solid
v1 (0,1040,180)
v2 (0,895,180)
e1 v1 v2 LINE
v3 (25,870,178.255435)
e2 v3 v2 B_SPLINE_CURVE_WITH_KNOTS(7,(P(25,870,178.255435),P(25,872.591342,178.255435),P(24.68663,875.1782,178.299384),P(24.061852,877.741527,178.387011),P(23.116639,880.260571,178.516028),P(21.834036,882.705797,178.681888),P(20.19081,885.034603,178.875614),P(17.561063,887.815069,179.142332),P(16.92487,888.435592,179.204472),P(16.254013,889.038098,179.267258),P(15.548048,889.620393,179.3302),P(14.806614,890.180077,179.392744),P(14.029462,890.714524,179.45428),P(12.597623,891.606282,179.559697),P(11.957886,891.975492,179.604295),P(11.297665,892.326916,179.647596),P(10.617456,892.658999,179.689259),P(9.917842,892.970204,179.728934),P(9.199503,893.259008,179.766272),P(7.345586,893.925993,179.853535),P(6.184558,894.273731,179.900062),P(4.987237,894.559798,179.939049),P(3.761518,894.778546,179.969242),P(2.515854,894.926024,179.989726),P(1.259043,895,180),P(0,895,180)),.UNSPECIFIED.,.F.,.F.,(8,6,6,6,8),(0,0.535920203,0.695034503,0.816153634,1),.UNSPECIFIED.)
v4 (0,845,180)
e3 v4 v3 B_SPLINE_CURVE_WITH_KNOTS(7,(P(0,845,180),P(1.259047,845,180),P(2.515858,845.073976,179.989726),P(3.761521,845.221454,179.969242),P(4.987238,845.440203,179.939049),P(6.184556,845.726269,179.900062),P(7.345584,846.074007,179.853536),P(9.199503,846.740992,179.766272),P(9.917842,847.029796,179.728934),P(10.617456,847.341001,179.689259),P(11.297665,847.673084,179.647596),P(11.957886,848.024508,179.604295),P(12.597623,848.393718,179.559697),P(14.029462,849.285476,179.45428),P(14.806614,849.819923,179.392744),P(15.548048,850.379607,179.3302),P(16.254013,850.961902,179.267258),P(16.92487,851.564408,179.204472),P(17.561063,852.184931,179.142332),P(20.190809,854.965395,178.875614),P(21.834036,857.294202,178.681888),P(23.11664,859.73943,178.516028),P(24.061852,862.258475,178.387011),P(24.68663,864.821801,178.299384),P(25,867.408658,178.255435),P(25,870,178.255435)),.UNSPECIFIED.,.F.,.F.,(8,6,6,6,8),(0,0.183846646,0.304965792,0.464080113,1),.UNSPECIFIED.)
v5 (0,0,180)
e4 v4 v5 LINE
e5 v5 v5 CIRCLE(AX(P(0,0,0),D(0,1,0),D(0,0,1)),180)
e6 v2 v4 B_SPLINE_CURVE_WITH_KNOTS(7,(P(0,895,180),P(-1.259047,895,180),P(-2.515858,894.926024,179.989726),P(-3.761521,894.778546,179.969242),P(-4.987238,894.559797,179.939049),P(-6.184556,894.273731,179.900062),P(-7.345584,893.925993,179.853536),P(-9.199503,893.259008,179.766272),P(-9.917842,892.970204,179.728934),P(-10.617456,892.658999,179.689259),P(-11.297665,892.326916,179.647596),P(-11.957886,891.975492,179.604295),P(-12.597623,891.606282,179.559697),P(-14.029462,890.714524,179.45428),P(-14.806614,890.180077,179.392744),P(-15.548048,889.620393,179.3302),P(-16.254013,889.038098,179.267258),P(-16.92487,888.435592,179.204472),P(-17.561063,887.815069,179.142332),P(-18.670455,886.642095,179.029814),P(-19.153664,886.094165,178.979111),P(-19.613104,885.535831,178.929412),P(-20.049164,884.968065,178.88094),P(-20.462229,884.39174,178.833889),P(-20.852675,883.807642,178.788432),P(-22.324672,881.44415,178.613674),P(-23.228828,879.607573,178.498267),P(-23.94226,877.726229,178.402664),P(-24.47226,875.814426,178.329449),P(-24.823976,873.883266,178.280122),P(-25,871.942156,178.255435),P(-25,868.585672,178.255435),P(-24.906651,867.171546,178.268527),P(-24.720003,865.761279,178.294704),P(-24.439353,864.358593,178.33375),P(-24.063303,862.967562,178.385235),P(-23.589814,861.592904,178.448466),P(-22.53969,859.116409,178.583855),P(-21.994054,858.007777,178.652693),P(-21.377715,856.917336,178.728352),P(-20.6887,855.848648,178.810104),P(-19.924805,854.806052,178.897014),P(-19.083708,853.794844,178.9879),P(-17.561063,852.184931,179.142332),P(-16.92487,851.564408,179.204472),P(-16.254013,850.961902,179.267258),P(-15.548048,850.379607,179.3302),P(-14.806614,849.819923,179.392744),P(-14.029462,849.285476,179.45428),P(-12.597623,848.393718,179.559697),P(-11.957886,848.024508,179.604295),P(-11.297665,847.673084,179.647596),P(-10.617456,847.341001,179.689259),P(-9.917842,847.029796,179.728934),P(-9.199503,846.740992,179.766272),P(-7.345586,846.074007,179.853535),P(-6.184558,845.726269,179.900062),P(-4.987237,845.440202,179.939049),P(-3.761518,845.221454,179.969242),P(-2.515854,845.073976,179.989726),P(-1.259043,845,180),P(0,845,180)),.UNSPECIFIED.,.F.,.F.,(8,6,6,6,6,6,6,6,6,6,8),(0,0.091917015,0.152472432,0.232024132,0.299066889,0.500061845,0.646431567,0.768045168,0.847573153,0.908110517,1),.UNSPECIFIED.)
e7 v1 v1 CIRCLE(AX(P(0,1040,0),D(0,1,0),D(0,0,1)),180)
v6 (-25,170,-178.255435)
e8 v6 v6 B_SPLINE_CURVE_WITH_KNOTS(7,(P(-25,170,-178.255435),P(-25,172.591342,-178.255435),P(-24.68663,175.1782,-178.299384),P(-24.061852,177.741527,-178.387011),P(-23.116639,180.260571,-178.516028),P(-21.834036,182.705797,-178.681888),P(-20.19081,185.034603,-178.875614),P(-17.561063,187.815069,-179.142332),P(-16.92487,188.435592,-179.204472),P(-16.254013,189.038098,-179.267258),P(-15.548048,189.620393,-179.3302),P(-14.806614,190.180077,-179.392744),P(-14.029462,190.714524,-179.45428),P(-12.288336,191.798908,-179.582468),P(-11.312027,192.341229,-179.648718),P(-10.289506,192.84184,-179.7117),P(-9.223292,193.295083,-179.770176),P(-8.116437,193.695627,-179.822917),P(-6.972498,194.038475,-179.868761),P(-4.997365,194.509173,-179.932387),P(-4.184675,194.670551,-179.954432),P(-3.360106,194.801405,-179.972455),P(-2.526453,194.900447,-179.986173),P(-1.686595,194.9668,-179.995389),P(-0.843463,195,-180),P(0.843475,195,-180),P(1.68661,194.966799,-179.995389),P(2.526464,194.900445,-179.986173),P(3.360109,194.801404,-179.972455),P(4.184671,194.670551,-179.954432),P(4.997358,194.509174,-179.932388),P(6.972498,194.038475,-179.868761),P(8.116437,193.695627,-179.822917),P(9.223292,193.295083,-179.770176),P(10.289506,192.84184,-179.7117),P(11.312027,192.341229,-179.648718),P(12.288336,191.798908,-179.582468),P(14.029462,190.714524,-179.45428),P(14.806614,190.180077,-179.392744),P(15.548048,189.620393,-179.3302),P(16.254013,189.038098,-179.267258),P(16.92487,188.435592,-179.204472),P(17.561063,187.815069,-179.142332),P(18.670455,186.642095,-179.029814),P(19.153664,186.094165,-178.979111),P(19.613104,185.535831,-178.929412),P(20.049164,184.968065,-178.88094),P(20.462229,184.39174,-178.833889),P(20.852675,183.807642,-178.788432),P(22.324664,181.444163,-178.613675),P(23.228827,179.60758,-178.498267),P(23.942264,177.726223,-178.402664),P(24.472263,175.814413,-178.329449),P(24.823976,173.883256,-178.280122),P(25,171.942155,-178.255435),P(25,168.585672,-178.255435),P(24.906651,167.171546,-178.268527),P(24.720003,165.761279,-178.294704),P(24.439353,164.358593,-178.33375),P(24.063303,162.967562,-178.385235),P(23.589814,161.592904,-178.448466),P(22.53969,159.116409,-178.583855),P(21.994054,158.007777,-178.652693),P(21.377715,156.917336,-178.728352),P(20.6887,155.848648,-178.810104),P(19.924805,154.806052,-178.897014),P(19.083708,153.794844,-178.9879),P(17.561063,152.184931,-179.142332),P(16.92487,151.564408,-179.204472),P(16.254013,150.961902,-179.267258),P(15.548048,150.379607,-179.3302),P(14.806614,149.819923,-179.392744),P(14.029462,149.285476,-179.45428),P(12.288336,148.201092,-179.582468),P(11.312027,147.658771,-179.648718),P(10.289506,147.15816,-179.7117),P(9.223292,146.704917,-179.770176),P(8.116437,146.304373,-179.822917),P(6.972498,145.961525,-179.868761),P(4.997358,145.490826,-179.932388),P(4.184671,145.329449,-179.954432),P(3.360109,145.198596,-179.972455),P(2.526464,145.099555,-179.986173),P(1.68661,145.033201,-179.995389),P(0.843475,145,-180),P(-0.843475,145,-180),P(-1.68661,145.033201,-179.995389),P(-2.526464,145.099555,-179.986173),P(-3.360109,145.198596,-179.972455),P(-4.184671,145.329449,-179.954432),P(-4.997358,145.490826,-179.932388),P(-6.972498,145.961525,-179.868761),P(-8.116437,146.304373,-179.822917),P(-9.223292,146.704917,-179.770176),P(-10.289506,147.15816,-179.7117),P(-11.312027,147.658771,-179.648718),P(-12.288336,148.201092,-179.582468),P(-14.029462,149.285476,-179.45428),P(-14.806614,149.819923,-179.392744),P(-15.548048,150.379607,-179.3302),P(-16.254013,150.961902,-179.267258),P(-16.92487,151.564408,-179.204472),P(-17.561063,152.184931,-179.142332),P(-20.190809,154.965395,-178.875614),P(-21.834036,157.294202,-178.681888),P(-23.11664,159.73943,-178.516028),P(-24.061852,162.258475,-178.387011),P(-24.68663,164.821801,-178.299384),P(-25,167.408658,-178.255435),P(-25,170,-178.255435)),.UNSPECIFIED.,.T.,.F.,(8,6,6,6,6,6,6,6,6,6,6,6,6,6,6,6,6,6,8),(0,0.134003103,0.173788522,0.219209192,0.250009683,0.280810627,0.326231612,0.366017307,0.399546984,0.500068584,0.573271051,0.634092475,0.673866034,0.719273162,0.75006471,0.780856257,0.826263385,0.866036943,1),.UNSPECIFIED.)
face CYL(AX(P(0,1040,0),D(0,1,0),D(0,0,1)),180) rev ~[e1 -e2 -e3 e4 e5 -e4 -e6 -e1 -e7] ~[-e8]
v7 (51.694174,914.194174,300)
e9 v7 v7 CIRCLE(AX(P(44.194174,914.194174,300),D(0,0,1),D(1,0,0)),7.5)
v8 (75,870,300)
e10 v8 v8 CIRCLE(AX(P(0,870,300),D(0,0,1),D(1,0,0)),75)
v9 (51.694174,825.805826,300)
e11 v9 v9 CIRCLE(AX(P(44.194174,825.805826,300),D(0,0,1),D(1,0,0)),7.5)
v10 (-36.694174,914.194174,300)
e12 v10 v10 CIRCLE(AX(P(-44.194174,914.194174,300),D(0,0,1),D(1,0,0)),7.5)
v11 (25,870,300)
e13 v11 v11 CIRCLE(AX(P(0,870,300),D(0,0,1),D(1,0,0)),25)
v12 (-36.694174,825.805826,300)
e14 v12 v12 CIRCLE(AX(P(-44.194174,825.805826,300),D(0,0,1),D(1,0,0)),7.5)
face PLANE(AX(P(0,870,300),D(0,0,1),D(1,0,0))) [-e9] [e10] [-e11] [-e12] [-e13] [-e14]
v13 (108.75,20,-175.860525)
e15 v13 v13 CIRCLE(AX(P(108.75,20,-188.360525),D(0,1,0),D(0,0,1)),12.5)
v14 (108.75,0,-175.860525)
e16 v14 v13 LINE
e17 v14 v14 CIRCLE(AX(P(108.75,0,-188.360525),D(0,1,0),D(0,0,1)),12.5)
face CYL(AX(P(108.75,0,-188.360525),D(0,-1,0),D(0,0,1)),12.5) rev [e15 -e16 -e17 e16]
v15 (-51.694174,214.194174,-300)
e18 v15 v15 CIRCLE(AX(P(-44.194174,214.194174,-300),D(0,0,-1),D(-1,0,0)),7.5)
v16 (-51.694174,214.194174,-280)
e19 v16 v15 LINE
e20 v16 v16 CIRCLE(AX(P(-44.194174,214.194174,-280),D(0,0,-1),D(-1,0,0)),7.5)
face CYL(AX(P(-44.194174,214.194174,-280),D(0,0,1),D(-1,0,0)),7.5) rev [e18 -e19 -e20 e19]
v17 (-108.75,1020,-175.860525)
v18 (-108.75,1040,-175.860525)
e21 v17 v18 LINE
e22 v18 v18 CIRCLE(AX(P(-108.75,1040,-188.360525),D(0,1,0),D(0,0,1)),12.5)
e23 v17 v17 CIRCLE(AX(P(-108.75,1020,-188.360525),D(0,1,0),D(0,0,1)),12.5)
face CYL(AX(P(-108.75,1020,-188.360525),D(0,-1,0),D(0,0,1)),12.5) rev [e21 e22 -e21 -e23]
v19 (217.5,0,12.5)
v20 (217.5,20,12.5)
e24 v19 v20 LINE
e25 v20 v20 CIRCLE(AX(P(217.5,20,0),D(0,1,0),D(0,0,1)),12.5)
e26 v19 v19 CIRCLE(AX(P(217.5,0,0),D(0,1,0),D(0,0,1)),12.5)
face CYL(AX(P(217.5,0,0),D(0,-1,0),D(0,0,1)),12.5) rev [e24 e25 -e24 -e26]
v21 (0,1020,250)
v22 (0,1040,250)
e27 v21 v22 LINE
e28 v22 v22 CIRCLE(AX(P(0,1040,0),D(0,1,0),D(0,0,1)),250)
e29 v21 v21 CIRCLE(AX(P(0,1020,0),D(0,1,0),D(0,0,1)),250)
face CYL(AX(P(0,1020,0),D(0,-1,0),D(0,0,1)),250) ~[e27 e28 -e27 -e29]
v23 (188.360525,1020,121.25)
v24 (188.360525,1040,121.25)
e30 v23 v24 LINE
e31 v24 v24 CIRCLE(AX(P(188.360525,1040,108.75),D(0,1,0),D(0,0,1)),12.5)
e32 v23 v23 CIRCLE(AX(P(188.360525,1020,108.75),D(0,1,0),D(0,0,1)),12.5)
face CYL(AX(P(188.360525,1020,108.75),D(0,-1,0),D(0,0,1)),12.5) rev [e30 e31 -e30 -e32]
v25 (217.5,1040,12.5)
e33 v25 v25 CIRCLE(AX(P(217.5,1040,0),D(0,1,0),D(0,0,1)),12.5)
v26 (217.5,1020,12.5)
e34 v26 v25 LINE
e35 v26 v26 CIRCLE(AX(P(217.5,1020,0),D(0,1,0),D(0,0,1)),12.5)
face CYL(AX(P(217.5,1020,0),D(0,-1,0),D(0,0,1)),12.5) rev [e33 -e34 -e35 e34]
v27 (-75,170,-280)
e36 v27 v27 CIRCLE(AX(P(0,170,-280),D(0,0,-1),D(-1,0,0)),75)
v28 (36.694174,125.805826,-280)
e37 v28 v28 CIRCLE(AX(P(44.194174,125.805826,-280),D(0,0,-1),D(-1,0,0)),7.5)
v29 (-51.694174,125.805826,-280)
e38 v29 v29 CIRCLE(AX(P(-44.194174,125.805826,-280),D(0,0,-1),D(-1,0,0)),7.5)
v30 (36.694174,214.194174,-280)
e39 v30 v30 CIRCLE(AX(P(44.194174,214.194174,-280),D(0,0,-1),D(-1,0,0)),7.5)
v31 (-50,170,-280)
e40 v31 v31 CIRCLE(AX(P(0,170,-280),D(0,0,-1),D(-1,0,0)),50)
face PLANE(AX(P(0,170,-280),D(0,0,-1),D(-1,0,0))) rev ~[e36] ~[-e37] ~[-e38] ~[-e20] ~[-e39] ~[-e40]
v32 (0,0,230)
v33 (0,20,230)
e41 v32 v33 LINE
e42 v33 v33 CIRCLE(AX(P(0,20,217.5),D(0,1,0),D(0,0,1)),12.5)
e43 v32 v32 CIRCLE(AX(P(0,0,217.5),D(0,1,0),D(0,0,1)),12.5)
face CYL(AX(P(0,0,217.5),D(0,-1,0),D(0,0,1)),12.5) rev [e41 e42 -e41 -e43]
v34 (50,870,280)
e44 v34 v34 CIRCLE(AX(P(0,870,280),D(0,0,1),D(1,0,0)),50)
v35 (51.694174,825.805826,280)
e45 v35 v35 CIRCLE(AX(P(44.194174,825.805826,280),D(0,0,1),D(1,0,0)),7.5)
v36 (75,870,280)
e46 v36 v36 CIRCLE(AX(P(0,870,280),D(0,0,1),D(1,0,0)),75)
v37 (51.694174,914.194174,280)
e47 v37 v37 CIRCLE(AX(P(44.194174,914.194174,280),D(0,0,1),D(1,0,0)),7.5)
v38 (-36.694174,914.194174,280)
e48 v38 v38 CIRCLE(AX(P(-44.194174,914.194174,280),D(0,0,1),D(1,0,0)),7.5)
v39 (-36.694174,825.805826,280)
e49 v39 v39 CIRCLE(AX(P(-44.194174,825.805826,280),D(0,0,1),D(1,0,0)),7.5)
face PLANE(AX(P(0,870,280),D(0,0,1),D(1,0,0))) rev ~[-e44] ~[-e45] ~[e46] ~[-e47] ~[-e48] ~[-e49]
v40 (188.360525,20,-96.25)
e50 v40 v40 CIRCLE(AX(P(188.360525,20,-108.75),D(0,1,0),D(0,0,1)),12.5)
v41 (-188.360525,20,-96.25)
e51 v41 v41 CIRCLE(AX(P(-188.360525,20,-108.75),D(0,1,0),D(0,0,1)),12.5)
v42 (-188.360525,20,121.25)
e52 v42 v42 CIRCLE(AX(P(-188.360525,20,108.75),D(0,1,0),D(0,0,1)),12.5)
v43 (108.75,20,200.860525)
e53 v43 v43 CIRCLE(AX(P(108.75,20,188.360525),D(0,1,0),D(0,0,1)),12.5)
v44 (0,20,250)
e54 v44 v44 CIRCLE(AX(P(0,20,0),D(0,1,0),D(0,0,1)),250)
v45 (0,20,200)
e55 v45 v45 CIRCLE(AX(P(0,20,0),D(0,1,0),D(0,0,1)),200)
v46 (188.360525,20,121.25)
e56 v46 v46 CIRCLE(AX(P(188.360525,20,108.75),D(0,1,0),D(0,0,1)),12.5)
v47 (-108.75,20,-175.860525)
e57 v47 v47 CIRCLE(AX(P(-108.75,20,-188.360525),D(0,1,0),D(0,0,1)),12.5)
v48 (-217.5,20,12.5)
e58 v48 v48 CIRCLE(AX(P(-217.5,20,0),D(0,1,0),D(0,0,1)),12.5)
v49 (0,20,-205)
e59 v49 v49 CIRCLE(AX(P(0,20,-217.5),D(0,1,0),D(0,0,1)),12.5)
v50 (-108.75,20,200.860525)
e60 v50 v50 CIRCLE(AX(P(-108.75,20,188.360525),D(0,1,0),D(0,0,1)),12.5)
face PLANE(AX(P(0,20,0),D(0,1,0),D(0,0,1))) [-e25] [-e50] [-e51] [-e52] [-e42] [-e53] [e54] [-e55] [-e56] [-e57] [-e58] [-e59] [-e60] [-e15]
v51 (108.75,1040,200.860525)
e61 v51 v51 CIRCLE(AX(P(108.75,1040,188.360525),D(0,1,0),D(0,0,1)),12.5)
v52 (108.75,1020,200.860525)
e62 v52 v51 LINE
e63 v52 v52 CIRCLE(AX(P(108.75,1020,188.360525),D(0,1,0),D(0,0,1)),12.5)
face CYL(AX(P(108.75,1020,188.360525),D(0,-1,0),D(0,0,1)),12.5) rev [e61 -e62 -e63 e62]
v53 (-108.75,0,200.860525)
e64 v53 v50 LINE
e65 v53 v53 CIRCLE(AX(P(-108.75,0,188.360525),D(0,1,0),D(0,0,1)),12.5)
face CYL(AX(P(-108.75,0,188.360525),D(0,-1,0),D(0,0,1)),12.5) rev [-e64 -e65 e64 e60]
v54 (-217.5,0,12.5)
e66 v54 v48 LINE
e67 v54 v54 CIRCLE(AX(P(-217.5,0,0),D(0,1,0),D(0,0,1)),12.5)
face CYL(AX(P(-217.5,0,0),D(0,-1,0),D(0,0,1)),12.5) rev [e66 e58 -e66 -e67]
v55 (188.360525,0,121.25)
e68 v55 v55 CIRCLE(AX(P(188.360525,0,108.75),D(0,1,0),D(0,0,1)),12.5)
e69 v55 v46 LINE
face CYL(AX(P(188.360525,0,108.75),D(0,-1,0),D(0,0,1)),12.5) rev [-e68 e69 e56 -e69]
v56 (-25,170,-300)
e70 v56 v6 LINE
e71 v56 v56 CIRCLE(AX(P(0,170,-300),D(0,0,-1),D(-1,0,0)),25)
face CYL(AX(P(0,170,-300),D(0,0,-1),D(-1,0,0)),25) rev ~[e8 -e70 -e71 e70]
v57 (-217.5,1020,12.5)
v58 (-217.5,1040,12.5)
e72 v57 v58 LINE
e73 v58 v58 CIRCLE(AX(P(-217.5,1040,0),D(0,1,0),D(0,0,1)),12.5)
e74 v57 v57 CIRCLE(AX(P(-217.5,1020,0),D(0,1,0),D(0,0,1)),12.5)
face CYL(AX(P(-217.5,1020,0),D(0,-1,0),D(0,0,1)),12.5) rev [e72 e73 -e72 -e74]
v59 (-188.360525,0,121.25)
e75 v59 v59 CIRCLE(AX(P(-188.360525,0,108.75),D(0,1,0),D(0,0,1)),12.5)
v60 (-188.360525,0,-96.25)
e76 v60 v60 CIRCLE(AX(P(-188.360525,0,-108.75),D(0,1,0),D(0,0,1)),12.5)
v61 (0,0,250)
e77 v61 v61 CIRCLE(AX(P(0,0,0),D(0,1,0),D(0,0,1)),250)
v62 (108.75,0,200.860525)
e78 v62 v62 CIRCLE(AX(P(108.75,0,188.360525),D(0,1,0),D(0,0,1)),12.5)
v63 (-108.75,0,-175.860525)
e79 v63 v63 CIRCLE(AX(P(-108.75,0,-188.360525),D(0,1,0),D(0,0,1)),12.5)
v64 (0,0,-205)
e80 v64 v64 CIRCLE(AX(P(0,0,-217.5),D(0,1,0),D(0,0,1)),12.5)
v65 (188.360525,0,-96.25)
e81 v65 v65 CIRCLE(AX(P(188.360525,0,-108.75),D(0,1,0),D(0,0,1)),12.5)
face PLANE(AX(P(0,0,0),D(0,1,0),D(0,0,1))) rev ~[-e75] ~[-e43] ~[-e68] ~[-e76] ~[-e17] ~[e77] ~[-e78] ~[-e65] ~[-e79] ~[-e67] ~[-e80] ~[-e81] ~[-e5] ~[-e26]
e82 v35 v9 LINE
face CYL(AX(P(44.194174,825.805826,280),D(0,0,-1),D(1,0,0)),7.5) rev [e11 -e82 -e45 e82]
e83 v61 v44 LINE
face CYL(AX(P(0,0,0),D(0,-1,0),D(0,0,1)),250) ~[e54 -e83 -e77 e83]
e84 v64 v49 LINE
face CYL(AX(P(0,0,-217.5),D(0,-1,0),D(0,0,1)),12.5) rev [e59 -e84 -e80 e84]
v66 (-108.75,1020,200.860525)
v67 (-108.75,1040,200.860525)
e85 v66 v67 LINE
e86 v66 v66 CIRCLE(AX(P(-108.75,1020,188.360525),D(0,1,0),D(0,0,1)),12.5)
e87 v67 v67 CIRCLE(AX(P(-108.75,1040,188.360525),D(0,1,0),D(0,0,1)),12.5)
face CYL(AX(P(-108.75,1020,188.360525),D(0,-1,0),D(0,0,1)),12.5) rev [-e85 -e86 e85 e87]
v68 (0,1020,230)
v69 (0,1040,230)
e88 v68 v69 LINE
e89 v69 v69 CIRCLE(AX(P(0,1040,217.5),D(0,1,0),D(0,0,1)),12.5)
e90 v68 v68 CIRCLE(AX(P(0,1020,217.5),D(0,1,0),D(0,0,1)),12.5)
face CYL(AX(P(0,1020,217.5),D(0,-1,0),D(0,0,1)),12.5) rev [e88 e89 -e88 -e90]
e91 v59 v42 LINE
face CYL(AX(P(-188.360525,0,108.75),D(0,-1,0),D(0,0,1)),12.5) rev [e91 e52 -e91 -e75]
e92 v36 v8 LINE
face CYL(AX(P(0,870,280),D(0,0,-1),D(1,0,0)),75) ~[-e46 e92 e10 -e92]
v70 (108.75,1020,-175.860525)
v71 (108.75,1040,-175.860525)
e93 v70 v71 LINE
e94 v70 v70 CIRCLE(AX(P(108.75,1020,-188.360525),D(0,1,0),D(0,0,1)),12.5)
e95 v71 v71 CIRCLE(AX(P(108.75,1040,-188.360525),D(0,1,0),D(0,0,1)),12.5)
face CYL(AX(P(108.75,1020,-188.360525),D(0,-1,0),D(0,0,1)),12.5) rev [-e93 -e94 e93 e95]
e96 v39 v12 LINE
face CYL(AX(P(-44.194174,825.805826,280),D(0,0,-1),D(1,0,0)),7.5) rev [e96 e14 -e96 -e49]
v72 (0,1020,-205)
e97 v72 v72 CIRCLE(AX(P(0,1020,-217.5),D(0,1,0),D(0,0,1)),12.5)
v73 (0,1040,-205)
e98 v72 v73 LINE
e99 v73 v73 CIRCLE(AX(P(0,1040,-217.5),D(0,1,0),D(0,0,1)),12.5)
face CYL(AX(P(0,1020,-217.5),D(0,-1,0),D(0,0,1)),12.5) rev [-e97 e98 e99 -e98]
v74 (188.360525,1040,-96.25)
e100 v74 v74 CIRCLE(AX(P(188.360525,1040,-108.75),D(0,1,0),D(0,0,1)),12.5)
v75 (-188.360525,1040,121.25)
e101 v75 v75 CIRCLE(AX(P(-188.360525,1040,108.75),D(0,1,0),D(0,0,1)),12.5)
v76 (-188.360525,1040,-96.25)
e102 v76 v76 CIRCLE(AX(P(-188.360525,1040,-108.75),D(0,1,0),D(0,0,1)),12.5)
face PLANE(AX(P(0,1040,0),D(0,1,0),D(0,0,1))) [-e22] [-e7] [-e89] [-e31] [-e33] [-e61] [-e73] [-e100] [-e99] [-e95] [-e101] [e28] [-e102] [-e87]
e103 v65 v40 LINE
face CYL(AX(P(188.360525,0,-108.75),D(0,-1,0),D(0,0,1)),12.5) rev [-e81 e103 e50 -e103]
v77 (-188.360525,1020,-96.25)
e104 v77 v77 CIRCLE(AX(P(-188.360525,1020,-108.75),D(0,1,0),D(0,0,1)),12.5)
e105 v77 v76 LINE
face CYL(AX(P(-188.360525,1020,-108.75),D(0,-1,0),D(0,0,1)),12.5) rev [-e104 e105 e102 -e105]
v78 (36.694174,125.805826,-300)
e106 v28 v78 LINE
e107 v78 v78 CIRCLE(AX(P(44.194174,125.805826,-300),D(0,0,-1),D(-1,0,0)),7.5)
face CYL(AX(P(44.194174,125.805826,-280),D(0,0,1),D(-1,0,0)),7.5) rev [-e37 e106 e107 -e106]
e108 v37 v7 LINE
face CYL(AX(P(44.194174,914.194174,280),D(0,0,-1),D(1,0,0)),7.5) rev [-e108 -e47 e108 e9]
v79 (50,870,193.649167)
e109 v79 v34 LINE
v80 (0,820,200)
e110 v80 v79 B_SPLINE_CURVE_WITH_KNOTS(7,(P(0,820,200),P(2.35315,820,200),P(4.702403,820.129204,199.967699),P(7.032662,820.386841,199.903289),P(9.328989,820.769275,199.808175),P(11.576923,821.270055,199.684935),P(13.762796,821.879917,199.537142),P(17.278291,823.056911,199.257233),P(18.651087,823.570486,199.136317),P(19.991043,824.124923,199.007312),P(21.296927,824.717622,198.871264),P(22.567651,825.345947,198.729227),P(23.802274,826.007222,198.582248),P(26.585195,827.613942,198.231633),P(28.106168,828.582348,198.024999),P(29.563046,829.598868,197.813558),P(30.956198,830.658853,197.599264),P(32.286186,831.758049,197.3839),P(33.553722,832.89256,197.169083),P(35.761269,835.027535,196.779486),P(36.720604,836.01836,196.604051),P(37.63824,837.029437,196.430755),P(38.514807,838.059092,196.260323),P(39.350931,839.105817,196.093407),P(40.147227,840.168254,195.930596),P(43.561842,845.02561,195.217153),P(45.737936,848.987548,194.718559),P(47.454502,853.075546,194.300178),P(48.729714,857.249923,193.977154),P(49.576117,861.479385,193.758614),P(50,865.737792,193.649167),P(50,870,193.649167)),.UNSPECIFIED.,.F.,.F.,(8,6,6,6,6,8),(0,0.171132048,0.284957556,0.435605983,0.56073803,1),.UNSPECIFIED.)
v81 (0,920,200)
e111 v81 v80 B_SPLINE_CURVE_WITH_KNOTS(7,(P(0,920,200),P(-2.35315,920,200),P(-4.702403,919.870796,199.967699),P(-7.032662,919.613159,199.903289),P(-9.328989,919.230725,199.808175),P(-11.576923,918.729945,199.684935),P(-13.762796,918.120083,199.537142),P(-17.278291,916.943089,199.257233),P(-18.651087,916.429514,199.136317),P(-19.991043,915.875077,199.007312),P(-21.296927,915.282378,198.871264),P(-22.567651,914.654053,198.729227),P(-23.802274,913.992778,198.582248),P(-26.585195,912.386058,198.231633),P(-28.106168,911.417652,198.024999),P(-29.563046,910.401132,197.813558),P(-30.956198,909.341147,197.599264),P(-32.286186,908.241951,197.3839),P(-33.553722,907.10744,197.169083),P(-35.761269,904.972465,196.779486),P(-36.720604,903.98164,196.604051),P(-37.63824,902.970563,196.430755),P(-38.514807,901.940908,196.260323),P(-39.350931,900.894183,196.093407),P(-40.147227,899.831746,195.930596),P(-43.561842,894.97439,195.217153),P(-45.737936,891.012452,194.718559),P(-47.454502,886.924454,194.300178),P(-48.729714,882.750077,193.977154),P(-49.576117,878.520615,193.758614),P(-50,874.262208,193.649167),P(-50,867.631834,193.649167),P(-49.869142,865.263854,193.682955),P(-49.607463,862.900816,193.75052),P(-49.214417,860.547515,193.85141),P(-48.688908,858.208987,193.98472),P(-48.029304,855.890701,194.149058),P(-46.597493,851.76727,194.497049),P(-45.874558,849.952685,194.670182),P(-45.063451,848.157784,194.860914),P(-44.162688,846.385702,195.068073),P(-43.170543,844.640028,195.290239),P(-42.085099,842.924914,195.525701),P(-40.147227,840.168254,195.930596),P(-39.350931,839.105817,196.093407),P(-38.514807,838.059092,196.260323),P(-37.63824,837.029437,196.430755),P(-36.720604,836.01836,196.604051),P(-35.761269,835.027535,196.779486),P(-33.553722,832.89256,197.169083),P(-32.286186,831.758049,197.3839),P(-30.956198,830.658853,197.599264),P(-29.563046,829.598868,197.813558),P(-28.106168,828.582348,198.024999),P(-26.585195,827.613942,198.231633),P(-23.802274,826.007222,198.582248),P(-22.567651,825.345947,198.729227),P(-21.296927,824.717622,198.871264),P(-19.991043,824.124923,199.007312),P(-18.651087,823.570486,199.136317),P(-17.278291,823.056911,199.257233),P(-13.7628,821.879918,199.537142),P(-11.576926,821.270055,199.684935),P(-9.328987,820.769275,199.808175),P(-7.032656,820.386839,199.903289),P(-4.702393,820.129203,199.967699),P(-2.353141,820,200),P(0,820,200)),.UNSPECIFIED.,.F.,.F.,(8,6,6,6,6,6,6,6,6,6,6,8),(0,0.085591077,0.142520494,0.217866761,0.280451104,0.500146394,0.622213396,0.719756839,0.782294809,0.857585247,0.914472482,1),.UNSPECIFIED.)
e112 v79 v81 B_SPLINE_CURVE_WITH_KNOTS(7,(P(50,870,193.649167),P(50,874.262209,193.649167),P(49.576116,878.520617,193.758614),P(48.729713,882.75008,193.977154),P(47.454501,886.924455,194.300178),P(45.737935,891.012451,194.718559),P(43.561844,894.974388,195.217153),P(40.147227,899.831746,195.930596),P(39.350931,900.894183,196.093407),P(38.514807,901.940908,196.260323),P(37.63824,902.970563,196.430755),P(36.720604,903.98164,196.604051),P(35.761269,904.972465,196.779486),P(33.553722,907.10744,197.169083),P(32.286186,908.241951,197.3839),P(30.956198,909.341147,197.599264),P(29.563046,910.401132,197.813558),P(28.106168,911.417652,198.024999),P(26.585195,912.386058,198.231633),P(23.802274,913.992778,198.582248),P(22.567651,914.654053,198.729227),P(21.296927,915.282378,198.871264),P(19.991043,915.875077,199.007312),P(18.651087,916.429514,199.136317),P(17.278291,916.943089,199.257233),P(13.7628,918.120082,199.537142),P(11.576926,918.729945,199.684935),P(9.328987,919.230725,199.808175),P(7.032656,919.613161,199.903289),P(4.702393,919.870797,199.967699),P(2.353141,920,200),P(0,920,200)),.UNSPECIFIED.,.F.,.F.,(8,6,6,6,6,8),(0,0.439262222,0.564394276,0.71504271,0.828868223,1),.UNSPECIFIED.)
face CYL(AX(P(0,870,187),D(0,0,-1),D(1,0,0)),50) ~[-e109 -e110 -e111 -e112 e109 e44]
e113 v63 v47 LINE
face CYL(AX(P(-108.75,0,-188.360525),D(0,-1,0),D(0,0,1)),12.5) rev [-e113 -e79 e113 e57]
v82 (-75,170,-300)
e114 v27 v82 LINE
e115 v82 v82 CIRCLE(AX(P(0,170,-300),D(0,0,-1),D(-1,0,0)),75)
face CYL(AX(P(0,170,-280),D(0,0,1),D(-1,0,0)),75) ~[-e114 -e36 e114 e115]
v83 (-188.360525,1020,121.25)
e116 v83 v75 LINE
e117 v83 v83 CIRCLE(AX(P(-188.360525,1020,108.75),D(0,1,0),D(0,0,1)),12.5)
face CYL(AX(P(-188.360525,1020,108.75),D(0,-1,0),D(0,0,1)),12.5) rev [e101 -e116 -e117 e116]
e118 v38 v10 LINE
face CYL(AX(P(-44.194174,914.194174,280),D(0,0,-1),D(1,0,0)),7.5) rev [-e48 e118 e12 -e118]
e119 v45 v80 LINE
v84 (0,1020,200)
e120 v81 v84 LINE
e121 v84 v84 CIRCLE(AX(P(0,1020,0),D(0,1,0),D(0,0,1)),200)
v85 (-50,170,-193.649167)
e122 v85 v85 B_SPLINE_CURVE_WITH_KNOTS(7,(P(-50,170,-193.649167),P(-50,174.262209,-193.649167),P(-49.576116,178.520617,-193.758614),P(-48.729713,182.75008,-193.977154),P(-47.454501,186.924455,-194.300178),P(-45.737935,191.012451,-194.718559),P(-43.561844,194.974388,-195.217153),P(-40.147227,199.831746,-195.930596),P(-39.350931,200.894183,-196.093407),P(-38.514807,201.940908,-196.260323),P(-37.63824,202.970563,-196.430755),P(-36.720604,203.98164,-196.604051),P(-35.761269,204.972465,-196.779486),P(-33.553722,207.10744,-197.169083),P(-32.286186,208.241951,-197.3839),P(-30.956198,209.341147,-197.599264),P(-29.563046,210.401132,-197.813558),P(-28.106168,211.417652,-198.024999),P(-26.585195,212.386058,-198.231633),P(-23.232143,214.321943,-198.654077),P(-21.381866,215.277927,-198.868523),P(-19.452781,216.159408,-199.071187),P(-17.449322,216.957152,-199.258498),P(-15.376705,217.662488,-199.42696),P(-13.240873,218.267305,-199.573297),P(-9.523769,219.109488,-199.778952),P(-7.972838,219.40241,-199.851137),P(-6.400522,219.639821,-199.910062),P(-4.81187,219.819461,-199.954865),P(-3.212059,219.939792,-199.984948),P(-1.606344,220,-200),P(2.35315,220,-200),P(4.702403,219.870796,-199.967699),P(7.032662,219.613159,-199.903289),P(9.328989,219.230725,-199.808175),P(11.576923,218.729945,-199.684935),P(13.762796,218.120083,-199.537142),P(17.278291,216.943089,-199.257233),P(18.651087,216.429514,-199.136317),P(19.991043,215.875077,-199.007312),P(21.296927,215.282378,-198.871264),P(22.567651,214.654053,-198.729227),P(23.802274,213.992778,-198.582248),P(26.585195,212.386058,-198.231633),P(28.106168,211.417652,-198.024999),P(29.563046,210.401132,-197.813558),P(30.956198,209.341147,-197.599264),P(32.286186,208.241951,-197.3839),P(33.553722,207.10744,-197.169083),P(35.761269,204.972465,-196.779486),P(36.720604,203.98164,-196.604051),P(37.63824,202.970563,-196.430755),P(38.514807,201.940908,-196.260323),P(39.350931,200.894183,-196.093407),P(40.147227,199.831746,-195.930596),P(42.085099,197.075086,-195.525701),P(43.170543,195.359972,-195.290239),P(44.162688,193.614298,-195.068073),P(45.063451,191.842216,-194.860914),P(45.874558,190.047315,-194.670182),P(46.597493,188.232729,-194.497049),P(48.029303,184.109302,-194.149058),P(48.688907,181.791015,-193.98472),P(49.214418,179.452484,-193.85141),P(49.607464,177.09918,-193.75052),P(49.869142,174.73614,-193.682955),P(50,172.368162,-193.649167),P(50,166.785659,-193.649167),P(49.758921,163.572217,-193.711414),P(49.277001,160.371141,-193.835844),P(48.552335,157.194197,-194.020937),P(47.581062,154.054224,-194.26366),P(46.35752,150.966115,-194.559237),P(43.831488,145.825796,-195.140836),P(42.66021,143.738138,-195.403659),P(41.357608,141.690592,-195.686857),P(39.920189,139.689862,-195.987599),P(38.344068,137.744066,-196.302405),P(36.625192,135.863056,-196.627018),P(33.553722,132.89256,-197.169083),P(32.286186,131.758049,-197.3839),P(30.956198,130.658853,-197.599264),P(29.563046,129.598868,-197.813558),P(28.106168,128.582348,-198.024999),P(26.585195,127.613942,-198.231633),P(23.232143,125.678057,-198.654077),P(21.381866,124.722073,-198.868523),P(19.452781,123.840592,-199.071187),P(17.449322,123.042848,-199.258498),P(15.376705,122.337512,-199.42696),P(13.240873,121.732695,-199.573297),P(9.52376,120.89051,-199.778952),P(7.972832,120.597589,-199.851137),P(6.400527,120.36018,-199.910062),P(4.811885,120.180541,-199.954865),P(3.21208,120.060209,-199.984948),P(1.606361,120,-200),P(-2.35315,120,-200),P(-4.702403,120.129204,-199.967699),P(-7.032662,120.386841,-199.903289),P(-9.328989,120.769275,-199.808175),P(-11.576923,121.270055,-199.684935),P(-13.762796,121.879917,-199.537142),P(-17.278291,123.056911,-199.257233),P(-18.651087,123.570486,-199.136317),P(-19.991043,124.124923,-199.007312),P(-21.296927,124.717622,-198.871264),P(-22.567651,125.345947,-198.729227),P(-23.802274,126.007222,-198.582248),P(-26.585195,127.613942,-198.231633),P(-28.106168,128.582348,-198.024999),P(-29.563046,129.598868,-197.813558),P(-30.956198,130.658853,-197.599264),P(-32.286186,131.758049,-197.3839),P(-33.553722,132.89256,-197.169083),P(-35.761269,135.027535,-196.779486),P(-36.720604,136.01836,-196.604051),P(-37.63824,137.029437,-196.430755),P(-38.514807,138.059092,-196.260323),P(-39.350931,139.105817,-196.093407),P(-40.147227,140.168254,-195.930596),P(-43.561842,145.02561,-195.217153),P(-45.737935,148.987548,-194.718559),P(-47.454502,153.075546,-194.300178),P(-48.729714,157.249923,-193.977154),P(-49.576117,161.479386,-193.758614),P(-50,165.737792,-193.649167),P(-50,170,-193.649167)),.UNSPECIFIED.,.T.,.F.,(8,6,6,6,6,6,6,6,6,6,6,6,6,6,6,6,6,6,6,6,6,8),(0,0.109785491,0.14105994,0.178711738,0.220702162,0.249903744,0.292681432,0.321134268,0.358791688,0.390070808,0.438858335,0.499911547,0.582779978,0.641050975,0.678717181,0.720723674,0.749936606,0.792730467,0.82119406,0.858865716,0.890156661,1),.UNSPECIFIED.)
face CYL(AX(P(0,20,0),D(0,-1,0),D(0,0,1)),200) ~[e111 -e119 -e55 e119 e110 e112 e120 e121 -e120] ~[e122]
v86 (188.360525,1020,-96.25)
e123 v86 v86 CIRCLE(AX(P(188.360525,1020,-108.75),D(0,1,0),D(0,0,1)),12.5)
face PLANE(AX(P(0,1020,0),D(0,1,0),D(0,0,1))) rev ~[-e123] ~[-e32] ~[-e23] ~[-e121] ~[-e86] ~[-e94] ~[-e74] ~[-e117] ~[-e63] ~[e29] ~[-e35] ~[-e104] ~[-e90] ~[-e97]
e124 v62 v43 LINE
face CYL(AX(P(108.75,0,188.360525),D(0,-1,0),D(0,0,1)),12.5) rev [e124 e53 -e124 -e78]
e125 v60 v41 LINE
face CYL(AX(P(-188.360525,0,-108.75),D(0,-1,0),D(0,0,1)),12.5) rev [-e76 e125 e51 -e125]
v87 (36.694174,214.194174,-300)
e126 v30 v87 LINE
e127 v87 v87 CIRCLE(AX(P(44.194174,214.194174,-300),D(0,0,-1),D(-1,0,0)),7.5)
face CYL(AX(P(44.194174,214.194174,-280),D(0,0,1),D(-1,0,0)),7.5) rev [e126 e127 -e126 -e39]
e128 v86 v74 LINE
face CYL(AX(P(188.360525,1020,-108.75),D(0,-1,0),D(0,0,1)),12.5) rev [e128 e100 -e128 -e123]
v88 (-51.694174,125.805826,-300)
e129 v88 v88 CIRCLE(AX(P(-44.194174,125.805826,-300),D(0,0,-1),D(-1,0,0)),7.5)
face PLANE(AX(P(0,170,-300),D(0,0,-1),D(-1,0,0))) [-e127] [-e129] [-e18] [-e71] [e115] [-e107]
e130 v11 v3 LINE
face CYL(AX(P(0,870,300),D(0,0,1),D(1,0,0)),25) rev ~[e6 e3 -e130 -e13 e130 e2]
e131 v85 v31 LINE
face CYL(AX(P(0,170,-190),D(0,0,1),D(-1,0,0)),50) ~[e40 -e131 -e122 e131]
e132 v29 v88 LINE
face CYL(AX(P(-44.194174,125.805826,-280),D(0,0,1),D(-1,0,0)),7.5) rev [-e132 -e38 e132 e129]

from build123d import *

# Parameters (mm, degrees)
SKETCH1_R                = 250
SKETCH1_R_2              = 12.5
BOSS_EXTRUDE1_DEPTH      = 20
SKETCH2_R                = 200
BOSS_EXTRUDE2_DEPTH      = 1000
SKETCH3_R                = 250
SKETCH3_R_2              = 12.5
BOSS_EXTRUDE3_DEPTH      = 20
SKETCH4_R                = 180
CUT_EXTRUDE1_DEPTH       = 1040
BOSS_EXTRUDE5_DEPTH      = 80
BOSS_EXTRUDE5_DEPTH_BACK = 10
SKETCH6_R                = 50
SKETCH7_R                = 75
SKETCH7_R_2              = 7.5
BOSS_EXTRUDE6_DEPTH      = 20
SKETCH8_R                = 25
CUT_EXTRUDE2_DEPTH       = 142
BOSS_EXTRUDE7_DEPTH      = 80
BOSS_EXTRUDE7_DEPTH_BACK = 13
SKETCH9_R                = 50
SKETCH10_R               = 75
SKETCH10_R_2             = 7.5
BOSS_EXTRUDE8_DEPTH      = 20
SKETCH11_R               = 25
CUT_EXTRUDE3_DEPTH       = 145


with BuildPart() as part:
    # Sketch1 → Boss-Extrude1 (new body)
    with BuildSketch(Plane(origin=(0, 0, 0), x_dir=(1, 0, 0), z_dir=(0, 1, 0))):
        with Locations(Location((0, 0, 0), (0, 0, 270))):
            Circle(SKETCH1_R)
        with Locations(Location((0, 217.5, 0), (0, 0, 270))):
            Circle(SKETCH1_R_2, mode=Mode.SUBTRACT)
        with Locations(Location((108.75, 188.360525323, 0), (0, 0, 270))):
            Circle(SKETCH1_R_2, mode=Mode.SUBTRACT)
        with Locations(Location((188.360525323, 108.75, 0), (0, 0, 270))):
            Circle(SKETCH1_R_2, mode=Mode.SUBTRACT)
        with Locations(Location((217.5, 0, 0), (0, 0, 270))):
            Circle(SKETCH1_R_2, mode=Mode.SUBTRACT)
        with Locations(Location((188.360525323, -108.75, 0), (0, 0, 270))):
            Circle(SKETCH1_R_2, mode=Mode.SUBTRACT)
        with Locations(Location((108.75, -188.360525323, 0), (0, 0, 270))):
            Circle(SKETCH1_R_2, mode=Mode.SUBTRACT)
        with Locations(Location((0, -217.5, 0), (0, 0, 270))):
            Circle(SKETCH1_R_2, mode=Mode.SUBTRACT)
        with Locations(Location((-108.75, -188.360525323, 0), (0, 0, 270))):
            Circle(SKETCH1_R_2, mode=Mode.SUBTRACT)
        with Locations(Location((-188.360525323, -108.75, 0), (0, 0, 270))):
            Circle(SKETCH1_R_2, mode=Mode.SUBTRACT)
        with Locations(Location((-217.5, 0, 0), (0, 0, 270))):
            Circle(SKETCH1_R_2, mode=Mode.SUBTRACT)
        with Locations(Location((-188.360525323, 108.75, 0), (0, 0, 270))):
            Circle(SKETCH1_R_2, mode=Mode.SUBTRACT)
        with Locations(Location((-108.75, 188.360525323, 0), (0, 0, 270))):
            Circle(SKETCH1_R_2, mode=Mode.SUBTRACT)
    extrude(amount=BOSS_EXTRUDE1_DEPTH)

    # Sketch2 → Boss-Extrude2 (add)
    with BuildSketch(Plane(origin=(0, 20, 0), x_dir=(1, 0, 0), z_dir=(0, 1, 0))):
        with Locations(Location((0, 0, 0), (0, 0, 270))):
            Circle(SKETCH2_R)
    extrude(amount=BOSS_EXTRUDE2_DEPTH)

    # Sketch3 → Boss-Extrude3 (add)
    with BuildSketch(Plane(origin=(0, 1020, 0), x_dir=(1, 0, 0), z_dir=(0, 1, 0))):
        with Locations(Location((0, 0, 0), (0, 0, 270))):
            Circle(SKETCH3_R)
        with Locations(Location((0, 217.5, 0), (0, 0, 270))):
            Circle(SKETCH3_R_2, mode=Mode.SUBTRACT)
        with Locations(Location((108.75, 188.360525323, 0), (0, 0, 270))):
            Circle(SKETCH3_R_2, mode=Mode.SUBTRACT)
        with Locations(Location((188.360525323, 108.75, 0), (0, 0, 270))):
            Circle(SKETCH3_R_2, mode=Mode.SUBTRACT)
        with Locations(Location((217.5, 0, 0), (0, 0, 270))):
            Circle(SKETCH3_R_2, mode=Mode.SUBTRACT)
        with Locations(Location((188.360525323, -108.75, 0), (0, 0, 270))):
            Circle(SKETCH3_R_2, mode=Mode.SUBTRACT)
        with Locations(Location((108.75, -188.360525323, 0), (0, 0, 270))):
            Circle(SKETCH3_R_2, mode=Mode.SUBTRACT)
        with Locations(Location((0, -217.5, 0), (0, 0, 270))):
            Circle(SKETCH3_R_2, mode=Mode.SUBTRACT)
        with Locations(Location((-108.75, -188.360525323, 0), (0, 0, 270))):
            Circle(SKETCH3_R_2, mode=Mode.SUBTRACT)
        with Locations(Location((-188.360525323, -108.75, 0), (0, 0, 270))):
            Circle(SKETCH3_R_2, mode=Mode.SUBTRACT)
        with Locations(Location((-217.5, 0, 0), (0, 0, 270))):
            Circle(SKETCH3_R_2, mode=Mode.SUBTRACT)
        with Locations(Location((-188.360525323, 108.75, 0), (0, 0, 270))):
            Circle(SKETCH3_R_2, mode=Mode.SUBTRACT)
        with Locations(Location((-108.75, 188.360525323, 0), (0, 0, 270))):
            Circle(SKETCH3_R_2, mode=Mode.SUBTRACT)
    extrude(amount=BOSS_EXTRUDE3_DEPTH)

    # Sketch4 → Cut-Extrude1 (cut)
    with BuildSketch(Plane(origin=(0, 1040, 0), x_dir=(1, 0, 0), z_dir=(0, 1, 0))):
        with Locations(Location((0, 0, 0), (0, 0, 270))):
            Circle(SKETCH4_R)
    extrude(amount=-CUT_EXTRUDE1_DEPTH, mode=Mode.SUBTRACT)

    # Sketch6 → Boss-Extrude5 (add, two sides: drawn at the far end of the back side and taken through both)
    with BuildSketch(Plane(origin=(0, 0, -200), x_dir=(-1, 0, 0), z_dir=(0, 0, -1)).offset(-BOSS_EXTRUDE5_DEPTH_BACK)):
        with Locations((0, 170)):
            Circle(SKETCH6_R)
    extrude(amount=BOSS_EXTRUDE5_DEPTH + BOSS_EXTRUDE5_DEPTH_BACK)

    # Sketch7 → Boss-Extrude6 (add)
    with BuildSketch(Plane(origin=(0, 0, -280), x_dir=(-1, 0, 0), z_dir=(0, 0, -1))):
        with Locations((0, 170)):
            Circle(SKETCH7_R)
        with Locations((44.194173824, 214.194173824)):
            Circle(SKETCH7_R_2, mode=Mode.SUBTRACT)
        with Locations((44.194173824, 125.805826176)):
            Circle(SKETCH7_R_2, mode=Mode.SUBTRACT)
        with Locations((-44.194173824, 125.805826176)):
            Circle(SKETCH7_R_2, mode=Mode.SUBTRACT)
        with Locations((-44.194173824, 214.194173824)):
            Circle(SKETCH7_R_2, mode=Mode.SUBTRACT)
    extrude(amount=BOSS_EXTRUDE6_DEPTH)

    # Sketch8 → Cut-Extrude2 (cut)
    with BuildSketch(Plane(origin=(0, 0, -300), x_dir=(-1, 0, 0), z_dir=(0, 0, -1))):
        with Locations((0, 170)):
            Circle(SKETCH8_R)
    extrude(amount=-CUT_EXTRUDE2_DEPTH, mode=Mode.SUBTRACT)

    # Sketch9 → Boss-Extrude7 (add, two sides: drawn at the far end of the back side and taken through both)
    with BuildSketch(Plane.XY.offset(200).offset(-BOSS_EXTRUDE7_DEPTH_BACK)):
        with Locations((0, 870)):
            Circle(SKETCH9_R)
    extrude(amount=BOSS_EXTRUDE7_DEPTH + BOSS_EXTRUDE7_DEPTH_BACK)

    # Sketch10 → Boss-Extrude8 (add)
    with BuildSketch(Plane.XY.offset(280)):
        with Locations((0, 870)):
            Circle(SKETCH10_R)
        with Locations((44.194173824, 914.194173824)):
            Circle(SKETCH10_R_2, mode=Mode.SUBTRACT)
        with Locations((44.194173824, 825.805826176)):
            Circle(SKETCH10_R_2, mode=Mode.SUBTRACT)
        with Locations((-44.194173824, 825.805826176)):
            Circle(SKETCH10_R_2, mode=Mode.SUBTRACT)
        with Locations((-44.194173824, 914.194173824)):
            Circle(SKETCH10_R_2, mode=Mode.SUBTRACT)
    extrude(amount=BOSS_EXTRUDE8_DEPTH)

    # Sketch11 → Cut-Extrude3 (cut)
    with BuildSketch(Plane.XY.offset(300)):
        with Locations((0, 870)):
            Circle(SKETCH11_R)
    extrude(amount=-CUT_EXTRUDE3_DEPTH, mode=Mode.SUBTRACT)


solid = part.part
